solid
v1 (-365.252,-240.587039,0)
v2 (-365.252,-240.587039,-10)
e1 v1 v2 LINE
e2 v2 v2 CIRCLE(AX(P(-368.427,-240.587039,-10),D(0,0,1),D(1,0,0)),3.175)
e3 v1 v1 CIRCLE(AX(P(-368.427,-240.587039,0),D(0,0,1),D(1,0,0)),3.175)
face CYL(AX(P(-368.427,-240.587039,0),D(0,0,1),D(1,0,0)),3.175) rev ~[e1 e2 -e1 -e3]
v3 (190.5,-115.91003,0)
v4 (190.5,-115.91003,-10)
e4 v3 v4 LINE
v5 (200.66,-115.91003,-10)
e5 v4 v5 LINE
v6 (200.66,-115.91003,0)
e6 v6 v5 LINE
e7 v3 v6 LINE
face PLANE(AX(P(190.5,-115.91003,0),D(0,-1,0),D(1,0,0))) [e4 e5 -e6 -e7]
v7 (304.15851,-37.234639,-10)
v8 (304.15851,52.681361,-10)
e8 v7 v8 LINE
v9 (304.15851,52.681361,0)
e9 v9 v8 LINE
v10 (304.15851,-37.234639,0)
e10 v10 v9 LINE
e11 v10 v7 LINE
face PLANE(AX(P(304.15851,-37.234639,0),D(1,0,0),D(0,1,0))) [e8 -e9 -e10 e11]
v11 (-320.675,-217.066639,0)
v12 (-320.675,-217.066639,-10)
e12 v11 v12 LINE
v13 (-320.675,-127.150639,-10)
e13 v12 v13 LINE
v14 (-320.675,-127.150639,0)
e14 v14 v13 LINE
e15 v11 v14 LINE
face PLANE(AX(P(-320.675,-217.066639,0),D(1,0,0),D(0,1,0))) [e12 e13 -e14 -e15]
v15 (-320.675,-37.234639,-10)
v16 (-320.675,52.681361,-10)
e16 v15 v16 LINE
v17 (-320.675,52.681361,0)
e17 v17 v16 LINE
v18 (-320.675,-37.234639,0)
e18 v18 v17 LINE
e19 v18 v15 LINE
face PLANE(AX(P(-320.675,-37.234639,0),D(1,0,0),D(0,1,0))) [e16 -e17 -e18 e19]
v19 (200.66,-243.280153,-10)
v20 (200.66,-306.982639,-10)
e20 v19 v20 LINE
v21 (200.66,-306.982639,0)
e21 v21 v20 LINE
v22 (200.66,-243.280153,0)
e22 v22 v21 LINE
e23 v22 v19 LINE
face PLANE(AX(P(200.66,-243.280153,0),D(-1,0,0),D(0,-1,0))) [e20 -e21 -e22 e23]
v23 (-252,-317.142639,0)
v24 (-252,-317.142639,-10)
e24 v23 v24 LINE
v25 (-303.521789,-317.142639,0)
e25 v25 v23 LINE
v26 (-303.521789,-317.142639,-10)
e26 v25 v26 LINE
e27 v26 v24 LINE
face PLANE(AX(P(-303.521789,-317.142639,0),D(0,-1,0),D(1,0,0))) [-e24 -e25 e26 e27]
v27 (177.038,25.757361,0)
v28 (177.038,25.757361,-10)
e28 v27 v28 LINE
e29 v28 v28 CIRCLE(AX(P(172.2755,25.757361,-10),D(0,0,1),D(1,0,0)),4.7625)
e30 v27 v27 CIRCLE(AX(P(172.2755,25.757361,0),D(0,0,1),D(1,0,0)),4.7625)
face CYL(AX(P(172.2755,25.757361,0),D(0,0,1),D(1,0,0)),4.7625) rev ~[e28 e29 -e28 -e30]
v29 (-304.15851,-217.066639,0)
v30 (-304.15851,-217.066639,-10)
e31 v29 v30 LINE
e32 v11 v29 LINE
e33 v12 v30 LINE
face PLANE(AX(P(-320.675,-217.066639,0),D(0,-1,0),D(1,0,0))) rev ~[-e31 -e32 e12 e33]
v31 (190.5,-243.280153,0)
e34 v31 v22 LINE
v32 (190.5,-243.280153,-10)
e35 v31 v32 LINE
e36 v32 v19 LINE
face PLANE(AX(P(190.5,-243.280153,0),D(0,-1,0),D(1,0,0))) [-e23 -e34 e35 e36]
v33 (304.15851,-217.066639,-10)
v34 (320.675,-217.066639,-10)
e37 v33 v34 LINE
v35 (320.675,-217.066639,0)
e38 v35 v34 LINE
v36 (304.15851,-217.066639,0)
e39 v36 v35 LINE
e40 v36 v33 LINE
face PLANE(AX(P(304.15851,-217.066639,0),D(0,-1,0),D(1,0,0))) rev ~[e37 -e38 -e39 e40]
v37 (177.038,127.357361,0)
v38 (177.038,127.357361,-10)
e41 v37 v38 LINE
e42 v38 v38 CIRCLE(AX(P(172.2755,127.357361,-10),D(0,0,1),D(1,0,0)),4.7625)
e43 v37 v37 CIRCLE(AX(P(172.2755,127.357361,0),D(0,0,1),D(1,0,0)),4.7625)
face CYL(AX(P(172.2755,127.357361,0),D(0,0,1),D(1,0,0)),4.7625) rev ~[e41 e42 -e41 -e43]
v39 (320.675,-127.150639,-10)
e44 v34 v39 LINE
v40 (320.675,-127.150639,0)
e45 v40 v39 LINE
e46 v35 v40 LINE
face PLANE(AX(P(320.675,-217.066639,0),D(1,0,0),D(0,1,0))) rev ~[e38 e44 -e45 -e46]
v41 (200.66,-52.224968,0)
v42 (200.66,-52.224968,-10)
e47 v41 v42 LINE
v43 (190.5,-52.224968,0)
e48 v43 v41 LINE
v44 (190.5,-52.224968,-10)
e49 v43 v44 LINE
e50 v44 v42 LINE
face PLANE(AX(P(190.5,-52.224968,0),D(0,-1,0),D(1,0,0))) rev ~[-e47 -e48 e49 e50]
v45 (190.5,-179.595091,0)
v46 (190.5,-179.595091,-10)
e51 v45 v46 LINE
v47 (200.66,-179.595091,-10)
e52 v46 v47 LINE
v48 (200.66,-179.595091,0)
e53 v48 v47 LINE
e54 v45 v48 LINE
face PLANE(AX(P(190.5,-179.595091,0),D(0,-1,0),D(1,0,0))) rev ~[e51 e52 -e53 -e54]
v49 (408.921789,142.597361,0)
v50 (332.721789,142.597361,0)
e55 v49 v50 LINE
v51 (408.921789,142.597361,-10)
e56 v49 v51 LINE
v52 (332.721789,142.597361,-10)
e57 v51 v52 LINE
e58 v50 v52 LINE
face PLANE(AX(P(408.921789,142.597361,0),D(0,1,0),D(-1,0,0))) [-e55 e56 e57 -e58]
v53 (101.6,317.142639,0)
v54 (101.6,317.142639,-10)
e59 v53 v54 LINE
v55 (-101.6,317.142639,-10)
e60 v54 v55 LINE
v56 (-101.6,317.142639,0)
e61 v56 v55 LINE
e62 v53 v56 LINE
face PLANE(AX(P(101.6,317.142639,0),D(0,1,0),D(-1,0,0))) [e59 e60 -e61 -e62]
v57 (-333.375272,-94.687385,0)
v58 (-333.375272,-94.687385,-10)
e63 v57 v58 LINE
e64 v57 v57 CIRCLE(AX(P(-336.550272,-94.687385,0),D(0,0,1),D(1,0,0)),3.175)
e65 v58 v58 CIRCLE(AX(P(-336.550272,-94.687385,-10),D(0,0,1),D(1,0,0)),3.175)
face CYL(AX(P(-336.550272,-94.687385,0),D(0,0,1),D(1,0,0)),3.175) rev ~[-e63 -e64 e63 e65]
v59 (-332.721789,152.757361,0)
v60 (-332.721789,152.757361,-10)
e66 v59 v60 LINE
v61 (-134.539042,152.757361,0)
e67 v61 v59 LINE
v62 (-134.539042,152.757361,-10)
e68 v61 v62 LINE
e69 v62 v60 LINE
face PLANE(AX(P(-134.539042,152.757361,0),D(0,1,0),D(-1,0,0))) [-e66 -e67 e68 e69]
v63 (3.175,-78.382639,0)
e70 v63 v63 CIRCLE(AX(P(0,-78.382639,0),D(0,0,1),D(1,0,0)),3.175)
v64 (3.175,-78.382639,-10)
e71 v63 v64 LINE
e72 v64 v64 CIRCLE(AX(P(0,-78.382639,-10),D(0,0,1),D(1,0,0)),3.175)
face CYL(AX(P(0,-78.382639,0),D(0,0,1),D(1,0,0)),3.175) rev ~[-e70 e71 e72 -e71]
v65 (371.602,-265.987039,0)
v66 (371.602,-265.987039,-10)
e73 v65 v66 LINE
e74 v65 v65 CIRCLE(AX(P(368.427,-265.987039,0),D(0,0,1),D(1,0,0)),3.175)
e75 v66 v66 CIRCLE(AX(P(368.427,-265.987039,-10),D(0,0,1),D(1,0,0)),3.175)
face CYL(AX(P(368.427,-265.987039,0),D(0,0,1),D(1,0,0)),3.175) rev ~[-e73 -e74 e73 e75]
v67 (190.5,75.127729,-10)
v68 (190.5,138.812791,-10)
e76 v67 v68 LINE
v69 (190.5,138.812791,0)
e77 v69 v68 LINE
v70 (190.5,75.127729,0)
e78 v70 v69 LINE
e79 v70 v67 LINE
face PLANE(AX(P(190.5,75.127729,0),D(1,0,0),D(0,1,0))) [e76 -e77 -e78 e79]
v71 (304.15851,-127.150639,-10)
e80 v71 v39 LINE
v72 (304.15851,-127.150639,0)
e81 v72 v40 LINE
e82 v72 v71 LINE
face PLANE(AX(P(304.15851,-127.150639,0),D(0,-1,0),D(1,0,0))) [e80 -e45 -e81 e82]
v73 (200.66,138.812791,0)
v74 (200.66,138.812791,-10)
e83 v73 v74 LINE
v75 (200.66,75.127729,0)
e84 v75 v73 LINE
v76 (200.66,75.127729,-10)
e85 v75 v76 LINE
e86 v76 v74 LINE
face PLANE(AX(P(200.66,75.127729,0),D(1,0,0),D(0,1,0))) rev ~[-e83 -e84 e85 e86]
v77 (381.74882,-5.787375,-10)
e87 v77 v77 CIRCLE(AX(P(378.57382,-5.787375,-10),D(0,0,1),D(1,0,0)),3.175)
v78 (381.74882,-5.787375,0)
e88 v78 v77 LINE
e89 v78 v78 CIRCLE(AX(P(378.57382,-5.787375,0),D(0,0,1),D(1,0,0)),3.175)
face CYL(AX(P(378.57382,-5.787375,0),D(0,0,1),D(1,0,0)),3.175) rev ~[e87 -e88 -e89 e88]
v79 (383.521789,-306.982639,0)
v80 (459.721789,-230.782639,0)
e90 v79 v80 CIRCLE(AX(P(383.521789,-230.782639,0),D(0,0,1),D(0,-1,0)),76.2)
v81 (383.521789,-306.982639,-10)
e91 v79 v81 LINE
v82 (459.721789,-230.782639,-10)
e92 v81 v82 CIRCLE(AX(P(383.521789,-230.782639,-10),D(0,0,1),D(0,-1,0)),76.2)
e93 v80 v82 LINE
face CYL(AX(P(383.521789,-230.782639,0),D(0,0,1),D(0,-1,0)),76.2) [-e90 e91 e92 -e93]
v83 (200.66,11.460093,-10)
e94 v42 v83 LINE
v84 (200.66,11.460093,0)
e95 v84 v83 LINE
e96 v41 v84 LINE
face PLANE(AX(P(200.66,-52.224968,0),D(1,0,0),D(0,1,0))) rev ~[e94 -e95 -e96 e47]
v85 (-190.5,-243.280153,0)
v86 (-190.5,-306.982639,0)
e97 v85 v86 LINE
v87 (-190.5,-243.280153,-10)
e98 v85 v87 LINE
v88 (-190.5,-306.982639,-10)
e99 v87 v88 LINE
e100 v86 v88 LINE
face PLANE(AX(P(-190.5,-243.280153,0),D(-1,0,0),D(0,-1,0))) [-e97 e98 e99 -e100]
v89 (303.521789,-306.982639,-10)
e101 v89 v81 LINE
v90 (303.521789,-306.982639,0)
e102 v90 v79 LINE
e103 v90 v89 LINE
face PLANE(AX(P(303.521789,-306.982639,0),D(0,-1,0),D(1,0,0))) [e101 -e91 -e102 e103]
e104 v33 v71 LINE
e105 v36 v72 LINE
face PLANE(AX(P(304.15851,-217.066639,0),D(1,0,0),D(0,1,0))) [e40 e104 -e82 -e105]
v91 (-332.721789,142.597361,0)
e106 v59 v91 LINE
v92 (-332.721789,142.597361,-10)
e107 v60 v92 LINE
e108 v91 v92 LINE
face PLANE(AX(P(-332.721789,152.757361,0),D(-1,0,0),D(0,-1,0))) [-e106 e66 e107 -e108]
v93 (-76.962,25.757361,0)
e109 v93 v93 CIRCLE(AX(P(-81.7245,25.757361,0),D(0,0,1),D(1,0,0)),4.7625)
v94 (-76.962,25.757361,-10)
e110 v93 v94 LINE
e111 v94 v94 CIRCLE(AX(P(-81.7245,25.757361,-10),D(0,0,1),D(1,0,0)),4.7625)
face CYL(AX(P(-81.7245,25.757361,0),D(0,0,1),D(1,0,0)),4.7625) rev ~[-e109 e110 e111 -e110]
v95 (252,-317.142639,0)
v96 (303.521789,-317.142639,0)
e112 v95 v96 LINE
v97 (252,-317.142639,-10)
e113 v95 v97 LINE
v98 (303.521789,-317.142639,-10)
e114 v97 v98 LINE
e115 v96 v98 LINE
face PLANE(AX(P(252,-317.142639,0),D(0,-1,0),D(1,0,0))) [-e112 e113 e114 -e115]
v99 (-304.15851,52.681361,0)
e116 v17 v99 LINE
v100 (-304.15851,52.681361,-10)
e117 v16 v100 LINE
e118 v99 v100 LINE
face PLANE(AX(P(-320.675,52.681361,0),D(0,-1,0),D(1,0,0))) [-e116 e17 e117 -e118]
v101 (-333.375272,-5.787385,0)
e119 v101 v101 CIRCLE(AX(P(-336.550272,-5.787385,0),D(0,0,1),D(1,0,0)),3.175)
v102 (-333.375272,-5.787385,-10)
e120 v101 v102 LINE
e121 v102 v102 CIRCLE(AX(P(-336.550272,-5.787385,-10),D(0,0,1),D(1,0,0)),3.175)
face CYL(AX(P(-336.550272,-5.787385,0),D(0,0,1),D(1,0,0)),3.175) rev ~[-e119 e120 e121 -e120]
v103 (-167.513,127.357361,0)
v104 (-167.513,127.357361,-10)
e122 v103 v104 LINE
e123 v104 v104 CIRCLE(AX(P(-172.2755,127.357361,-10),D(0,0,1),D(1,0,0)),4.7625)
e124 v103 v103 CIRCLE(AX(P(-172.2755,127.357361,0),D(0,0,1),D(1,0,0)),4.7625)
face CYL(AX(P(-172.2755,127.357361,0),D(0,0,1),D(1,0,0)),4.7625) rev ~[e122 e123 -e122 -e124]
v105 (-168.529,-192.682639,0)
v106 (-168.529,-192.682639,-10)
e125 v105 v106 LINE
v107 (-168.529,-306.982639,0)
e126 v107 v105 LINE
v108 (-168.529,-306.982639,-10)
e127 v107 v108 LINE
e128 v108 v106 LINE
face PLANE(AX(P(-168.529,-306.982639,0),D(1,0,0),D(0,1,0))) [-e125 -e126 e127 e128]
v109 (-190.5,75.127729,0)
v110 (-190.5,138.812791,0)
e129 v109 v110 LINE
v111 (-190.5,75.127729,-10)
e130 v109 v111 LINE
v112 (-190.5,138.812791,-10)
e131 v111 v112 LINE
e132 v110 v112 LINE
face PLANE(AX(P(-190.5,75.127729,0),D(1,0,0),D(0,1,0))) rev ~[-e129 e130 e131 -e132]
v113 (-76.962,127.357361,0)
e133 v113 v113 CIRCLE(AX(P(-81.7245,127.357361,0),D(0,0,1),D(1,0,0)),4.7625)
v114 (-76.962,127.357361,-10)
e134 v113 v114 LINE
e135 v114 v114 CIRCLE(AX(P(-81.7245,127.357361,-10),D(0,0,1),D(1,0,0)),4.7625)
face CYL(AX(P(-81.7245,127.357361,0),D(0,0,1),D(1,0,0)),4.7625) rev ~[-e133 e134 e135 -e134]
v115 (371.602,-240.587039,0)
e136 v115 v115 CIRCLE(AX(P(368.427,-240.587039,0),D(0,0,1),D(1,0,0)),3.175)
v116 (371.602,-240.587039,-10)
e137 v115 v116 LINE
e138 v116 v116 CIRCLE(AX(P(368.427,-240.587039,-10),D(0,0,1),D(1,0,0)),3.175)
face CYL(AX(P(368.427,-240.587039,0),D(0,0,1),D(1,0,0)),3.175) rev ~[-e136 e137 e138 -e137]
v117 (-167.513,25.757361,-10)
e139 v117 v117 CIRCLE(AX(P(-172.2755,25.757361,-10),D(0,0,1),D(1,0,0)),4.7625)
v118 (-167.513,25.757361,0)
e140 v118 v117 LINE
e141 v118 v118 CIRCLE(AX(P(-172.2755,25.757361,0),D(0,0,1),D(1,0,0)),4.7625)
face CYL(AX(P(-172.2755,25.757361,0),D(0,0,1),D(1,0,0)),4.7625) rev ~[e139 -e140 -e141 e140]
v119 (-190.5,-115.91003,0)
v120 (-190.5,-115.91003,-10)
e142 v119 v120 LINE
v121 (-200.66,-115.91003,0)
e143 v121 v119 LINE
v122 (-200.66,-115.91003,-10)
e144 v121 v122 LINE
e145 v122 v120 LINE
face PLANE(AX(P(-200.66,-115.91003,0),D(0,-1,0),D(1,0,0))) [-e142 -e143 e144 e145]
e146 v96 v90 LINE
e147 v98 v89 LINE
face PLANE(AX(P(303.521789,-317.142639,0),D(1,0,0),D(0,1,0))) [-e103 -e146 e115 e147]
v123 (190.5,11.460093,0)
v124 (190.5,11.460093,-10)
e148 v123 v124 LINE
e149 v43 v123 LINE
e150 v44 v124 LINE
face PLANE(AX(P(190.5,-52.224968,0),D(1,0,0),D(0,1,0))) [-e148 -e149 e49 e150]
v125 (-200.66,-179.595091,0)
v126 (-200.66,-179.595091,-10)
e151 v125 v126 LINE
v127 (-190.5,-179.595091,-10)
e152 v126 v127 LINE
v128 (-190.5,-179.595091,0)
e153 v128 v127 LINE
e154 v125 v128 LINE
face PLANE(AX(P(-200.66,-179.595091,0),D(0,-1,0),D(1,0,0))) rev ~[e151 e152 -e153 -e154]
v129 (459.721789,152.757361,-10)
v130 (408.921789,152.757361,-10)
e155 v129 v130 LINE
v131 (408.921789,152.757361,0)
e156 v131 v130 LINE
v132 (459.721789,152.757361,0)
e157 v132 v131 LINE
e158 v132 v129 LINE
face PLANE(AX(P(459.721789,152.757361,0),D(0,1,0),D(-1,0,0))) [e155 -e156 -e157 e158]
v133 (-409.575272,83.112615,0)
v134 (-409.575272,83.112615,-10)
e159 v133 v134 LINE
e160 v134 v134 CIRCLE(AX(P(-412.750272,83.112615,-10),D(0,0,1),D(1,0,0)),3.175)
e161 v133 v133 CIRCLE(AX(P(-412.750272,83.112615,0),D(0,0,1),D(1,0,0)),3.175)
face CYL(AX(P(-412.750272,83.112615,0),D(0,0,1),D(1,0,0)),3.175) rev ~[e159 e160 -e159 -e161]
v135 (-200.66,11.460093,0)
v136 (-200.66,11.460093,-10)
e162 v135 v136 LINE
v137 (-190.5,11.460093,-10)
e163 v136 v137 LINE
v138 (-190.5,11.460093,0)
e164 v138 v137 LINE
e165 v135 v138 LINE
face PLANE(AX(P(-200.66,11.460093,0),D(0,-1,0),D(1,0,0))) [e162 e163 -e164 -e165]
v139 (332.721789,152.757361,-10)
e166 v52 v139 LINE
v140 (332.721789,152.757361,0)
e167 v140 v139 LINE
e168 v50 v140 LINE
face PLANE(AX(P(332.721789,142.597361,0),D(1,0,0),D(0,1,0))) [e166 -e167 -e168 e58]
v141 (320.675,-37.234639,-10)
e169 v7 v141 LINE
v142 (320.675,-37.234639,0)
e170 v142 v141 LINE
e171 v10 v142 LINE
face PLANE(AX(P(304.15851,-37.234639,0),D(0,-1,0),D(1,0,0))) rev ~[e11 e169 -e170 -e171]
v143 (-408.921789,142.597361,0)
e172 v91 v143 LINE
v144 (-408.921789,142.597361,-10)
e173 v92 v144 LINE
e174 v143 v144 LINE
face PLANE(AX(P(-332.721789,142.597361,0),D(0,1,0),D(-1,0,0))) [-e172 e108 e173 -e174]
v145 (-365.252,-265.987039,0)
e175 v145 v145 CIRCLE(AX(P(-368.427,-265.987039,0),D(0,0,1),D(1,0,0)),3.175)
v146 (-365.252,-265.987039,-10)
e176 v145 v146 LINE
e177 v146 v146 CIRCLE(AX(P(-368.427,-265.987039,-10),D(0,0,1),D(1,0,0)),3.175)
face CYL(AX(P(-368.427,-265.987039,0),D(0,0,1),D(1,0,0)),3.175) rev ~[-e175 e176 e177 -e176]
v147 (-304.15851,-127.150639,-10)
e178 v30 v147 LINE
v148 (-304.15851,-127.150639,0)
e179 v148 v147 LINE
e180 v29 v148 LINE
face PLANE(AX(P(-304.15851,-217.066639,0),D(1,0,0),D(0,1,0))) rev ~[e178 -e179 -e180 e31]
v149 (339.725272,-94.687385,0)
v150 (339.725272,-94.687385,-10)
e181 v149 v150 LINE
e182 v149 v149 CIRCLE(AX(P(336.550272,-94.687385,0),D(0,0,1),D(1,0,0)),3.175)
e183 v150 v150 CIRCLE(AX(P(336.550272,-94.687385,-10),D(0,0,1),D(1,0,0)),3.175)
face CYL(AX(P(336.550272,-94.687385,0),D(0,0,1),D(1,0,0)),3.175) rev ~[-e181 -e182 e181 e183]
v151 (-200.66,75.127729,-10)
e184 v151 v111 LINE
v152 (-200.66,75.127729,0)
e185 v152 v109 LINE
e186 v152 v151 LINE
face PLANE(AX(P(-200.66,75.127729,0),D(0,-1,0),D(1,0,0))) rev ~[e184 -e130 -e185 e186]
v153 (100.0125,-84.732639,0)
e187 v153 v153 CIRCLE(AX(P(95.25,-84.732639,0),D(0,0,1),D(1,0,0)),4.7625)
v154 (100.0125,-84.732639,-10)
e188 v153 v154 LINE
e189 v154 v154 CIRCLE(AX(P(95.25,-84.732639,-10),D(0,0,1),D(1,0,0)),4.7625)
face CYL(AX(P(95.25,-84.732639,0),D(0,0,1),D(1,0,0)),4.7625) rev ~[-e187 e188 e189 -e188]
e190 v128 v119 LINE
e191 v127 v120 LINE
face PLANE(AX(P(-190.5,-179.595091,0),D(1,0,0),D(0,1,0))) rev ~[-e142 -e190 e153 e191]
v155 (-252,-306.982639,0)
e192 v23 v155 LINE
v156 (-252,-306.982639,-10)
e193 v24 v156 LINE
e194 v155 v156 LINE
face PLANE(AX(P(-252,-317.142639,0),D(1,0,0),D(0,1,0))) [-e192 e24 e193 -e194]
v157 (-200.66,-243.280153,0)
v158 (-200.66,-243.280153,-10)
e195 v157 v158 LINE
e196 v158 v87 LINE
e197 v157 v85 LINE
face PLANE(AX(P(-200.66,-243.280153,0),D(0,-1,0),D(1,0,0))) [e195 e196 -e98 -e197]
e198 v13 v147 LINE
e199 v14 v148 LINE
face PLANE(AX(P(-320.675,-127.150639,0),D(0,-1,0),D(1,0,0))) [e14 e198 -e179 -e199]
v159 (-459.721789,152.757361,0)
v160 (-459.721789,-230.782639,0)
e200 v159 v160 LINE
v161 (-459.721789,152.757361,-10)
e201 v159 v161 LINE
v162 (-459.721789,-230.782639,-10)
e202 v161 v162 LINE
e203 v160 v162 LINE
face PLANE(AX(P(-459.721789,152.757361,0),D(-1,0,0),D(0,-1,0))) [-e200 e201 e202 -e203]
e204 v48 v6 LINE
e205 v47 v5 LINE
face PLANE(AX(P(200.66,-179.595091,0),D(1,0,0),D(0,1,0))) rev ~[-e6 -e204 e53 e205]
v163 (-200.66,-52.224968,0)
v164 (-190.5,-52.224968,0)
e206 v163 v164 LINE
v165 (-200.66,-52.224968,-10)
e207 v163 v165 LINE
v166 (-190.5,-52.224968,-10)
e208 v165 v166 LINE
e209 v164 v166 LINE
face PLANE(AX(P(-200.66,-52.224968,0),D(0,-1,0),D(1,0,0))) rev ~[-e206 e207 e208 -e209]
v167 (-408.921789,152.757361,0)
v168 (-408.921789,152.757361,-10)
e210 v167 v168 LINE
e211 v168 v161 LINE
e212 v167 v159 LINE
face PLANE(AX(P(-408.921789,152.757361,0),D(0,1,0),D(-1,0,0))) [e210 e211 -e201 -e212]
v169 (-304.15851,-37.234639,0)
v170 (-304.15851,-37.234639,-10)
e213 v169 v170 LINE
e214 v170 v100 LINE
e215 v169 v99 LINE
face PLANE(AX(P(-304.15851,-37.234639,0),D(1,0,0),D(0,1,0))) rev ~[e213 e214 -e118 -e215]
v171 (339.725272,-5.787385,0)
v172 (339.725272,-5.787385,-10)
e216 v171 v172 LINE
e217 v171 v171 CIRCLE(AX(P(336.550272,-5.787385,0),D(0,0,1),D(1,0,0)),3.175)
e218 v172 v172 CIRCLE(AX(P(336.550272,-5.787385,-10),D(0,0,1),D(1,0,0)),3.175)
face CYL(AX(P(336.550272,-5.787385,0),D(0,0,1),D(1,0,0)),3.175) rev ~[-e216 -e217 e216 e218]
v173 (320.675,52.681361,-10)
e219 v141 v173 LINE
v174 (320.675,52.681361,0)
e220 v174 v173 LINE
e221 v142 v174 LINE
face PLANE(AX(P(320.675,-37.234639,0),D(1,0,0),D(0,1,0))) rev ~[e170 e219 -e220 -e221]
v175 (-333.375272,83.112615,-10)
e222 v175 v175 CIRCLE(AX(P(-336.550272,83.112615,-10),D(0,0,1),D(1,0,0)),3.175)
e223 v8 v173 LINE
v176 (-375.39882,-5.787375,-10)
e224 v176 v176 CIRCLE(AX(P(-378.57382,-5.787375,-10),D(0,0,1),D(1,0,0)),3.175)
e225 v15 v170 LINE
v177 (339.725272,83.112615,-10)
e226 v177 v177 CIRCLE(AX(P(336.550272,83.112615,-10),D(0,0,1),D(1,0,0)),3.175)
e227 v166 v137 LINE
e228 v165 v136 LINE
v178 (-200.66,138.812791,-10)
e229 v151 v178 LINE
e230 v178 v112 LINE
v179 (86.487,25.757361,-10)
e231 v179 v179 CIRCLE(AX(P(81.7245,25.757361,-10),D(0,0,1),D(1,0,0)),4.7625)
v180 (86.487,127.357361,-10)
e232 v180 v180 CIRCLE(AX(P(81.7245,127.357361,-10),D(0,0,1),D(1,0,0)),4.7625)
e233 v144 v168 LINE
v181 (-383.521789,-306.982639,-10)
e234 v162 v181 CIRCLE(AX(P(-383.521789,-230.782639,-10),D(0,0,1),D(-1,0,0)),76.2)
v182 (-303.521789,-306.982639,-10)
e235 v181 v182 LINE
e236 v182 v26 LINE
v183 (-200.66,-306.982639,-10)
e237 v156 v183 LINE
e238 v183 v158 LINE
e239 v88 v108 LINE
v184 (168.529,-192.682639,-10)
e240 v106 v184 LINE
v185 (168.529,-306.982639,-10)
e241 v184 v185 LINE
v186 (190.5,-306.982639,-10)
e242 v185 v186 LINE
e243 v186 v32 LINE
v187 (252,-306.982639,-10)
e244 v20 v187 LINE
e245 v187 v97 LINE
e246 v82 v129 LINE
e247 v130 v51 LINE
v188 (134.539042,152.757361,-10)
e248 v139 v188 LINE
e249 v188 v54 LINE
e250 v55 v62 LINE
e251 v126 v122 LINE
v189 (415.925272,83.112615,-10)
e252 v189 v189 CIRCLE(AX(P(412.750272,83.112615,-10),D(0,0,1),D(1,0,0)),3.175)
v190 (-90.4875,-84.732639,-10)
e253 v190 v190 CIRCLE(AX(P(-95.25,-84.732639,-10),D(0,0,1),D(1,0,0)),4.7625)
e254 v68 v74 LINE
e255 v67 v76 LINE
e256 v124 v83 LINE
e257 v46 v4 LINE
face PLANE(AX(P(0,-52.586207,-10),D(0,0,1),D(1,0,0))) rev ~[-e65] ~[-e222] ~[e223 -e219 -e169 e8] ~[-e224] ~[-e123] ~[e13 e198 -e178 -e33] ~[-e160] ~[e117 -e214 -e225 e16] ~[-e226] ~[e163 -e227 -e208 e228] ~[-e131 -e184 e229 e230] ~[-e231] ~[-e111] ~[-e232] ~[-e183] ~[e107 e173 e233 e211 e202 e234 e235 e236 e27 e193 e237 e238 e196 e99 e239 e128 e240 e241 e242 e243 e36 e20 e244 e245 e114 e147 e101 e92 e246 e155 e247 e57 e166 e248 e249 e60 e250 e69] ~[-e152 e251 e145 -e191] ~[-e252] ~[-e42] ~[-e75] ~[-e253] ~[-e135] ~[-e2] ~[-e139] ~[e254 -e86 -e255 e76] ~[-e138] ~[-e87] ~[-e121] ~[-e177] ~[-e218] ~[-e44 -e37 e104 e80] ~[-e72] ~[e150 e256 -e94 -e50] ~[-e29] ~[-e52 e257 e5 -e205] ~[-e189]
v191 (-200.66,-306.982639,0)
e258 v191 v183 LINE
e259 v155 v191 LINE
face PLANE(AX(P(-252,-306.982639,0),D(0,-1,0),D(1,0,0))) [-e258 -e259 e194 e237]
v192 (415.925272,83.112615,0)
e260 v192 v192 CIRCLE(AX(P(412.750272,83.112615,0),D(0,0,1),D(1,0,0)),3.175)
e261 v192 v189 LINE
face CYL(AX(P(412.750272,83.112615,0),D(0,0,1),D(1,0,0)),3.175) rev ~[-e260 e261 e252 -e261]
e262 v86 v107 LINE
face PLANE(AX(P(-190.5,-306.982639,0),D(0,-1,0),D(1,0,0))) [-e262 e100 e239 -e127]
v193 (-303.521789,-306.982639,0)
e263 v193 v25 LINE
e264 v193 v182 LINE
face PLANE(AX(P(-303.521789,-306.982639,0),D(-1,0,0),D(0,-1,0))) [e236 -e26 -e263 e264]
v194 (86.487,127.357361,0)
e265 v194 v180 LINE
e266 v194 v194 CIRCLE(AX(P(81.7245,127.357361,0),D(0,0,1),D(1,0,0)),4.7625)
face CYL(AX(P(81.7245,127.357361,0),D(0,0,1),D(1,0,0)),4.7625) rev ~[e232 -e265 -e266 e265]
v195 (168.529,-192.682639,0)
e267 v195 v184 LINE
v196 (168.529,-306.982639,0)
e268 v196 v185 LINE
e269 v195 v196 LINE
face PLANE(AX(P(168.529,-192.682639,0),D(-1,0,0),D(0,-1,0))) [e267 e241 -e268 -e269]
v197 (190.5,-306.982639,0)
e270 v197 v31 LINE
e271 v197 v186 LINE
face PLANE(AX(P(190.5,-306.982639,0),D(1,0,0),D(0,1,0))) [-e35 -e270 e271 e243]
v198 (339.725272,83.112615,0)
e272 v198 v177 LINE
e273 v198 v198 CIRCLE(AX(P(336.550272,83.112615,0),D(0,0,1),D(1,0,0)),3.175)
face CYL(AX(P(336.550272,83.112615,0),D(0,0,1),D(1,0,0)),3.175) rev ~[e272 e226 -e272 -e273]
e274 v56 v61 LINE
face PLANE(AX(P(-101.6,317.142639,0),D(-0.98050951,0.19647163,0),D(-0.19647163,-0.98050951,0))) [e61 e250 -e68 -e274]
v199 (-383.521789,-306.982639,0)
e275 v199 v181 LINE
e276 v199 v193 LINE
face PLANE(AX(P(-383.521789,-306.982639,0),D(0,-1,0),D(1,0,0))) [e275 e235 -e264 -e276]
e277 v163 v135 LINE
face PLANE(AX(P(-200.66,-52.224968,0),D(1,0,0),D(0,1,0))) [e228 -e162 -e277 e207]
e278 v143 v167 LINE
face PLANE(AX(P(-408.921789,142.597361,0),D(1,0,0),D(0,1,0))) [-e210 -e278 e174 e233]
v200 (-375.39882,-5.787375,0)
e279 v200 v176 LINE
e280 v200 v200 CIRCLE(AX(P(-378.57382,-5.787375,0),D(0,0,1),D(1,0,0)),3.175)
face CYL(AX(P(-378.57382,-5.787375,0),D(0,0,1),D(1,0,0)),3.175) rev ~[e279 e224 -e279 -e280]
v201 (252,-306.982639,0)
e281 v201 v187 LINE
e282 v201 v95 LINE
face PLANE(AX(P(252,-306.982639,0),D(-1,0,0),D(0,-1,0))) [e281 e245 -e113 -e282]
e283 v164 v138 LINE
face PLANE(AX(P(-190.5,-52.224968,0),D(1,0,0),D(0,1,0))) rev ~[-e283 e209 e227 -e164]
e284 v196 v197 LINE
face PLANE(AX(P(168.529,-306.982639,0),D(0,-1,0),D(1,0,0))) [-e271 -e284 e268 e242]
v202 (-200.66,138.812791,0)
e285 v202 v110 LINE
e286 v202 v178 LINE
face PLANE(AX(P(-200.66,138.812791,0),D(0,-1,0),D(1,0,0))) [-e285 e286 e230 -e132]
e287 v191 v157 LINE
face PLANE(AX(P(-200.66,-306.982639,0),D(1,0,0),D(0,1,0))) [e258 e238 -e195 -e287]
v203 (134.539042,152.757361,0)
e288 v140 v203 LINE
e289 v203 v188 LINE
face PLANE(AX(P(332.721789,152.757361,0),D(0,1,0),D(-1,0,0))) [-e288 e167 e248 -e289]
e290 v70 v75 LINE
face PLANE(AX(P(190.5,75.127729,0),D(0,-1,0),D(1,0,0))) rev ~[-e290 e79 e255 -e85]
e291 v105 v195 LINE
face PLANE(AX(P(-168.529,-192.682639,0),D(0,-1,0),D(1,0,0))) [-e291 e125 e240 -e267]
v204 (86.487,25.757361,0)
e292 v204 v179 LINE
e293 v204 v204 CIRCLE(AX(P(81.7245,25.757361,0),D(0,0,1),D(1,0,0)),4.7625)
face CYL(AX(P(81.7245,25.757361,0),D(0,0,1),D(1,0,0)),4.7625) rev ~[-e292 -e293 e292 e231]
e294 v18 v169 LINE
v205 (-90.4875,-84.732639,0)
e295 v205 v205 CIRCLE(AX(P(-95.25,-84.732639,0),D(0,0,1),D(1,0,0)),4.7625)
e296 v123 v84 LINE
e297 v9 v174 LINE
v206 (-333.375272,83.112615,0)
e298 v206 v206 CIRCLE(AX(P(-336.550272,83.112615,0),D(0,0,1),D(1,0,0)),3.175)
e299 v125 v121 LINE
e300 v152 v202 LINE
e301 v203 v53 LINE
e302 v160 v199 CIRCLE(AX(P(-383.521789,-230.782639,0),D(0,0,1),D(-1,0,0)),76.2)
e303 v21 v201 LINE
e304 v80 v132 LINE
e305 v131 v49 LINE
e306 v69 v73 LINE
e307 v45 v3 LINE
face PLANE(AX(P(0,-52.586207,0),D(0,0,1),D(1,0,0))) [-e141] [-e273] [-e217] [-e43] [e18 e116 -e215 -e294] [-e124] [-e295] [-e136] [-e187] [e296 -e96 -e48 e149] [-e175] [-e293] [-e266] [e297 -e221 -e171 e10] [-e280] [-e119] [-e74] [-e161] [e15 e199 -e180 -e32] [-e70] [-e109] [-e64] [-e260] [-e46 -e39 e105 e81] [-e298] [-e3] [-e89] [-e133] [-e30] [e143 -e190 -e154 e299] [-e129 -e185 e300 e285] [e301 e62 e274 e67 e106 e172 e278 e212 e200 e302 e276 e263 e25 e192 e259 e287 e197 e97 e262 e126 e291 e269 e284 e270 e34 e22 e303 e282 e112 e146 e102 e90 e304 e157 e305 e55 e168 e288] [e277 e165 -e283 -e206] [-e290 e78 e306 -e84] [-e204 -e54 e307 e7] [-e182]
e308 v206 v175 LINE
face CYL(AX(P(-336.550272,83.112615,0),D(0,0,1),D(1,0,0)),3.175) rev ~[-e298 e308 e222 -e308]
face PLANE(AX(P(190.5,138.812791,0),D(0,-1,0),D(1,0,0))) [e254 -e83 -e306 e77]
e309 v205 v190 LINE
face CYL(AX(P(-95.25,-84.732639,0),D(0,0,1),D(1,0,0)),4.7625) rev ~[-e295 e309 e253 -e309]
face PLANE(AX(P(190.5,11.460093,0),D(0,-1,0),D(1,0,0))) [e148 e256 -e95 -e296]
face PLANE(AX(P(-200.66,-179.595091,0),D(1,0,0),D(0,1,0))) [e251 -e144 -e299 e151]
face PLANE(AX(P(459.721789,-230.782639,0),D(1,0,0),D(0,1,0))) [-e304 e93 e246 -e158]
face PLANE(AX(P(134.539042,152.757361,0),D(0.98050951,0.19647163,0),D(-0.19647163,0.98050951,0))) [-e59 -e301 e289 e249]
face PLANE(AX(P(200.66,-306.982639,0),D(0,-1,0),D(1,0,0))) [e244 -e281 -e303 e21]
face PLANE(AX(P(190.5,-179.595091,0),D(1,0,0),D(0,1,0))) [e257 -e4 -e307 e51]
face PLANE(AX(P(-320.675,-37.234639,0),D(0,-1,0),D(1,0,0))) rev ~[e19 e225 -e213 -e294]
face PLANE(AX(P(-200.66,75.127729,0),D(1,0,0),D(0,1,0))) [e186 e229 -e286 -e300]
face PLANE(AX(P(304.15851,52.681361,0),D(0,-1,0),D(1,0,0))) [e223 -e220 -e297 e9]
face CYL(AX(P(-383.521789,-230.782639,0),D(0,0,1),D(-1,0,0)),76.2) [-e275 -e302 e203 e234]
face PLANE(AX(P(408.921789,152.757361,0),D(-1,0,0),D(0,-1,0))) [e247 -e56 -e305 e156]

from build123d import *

# Parameters (mm, degrees)
SKETCH2_R           = 3.175
SKETCH2_R_2         = 4.7625
SKETCH2_W           = 16.516490401
SKETCH2_H           = 89.916
SKETCH2_W_2         = 10.16
SKETCH2_H_2         = 63.685061478
SKETCH2_H_3         = 63.685061479
BOSS_EXTRUDE1_DEPTH = 10


with BuildPart() as part:
    # Sketch2 → Boss-Extrude1 (new body)
    with BuildSketch(Plane.XY):
        with BuildLine():
            Line((-408.921789204, 152.75736057), (-459.721789204, 152.75736057))
            Line((-459.721789204, 152.75736057), (-459.721789204, -230.78263943))
            ThreePointArc((-459.721789204, -230.78263943), (-437.403325931, -284.664176156), (-383.521789204, -306.98263943))
            Line((-383.521789204, -306.98263943), (-303.521789204, -306.98263943))
            Line((-303.521789204, -306.98263943), (-303.521789204, -317.14263943))
            Line((-303.521789204, -317.14263943), (-252, -317.14263943))
            Line((-252, -317.14263943), (-252, -306.98263943))
            Line((-252, -306.98263943), (-200.66, -306.98263943))
            Line((-200.66, -306.98263943), (-200.66, -243.280152529))
            Line((-200.66, -243.280152529), (-190.5, -243.280152529))
            Line((-190.5, -243.280152529), (-190.5, -306.98263943))
            Line((-190.5, -306.98263943), (-168.529, -306.98263943))
            Line((-168.529, -306.98263943), (-168.529, -192.68263943))
            Line((-168.529, -192.68263943), (168.529, -192.68263943))
            Line((168.529, -192.68263943), (168.529, -306.98263943))
            Line((168.529, -306.98263943), (190.5, -306.98263943))
            Line((190.5, -306.98263943), (190.5, -243.280152529))
            Line((190.5, -243.280152529), (200.66, -243.280152529))
            Line((200.66, -243.280152529), (200.66, -306.98263943))
            Line((200.66, -306.98263943), (252, -306.98263943))
            Line((252, -306.98263943), (252, -317.14263943))
            Line((252, -317.14263943), (303.521789204, -317.14263943))
            Line((303.521789204, -317.14263943), (303.521789204, -306.98263943))
            Line((303.521789204, -306.98263943), (383.521789204, -306.98263943))
            ThreePointArc((383.521789204, -306.98263943), (437.403325931, -284.664176156), (459.721789204, -230.78263943))
            Line((459.721789204, -230.78263943), (459.721789204, 152.75736057))
            Line((459.721789204, 152.75736057), (408.921789204, 152.75736057))
            Line((408.921789204, 152.75736057), (408.921789204, 142.59736057))
            Line((408.921789204, 142.59736057), (332.721789204, 142.59736057))
            Line((332.721789204, 142.59736057), (332.721789204, 152.75736057))
            Line((332.721789204, 152.75736057), (134.539041792, 152.75736057))
            Line((134.539041792, 152.75736057), (101.6, 317.14263943))
            Line((101.6, 317.14263943), (-101.6, 317.14263943))
            Line((-101.6, 317.14263943), (-134.539041792, 152.75736057))
            Line((-134.539041792, 152.75736057), (-332.721789204, 152.75736057))
            Line((-332.721789204, 152.75736057), (-332.721789204, 142.597360571))
            Line((-332.721789204, 142.597360571), (-408.921789204, 142.597360571))
            Line((-408.921789204, 142.597360571), (-408.921789204, 152.75736057))
        make_face()
        with Locations((368.427, -265.98703943)):
            Circle(SKETCH2_R, mode=Mode.SUBTRACT)
        with Locations((368.427, -240.58703943)):
            Circle(SKETCH2_R, mode=Mode.SUBTRACT)
        with Locations((336.550272189, -94.687385458)):
            Circle(SKETCH2_R, mode=Mode.SUBTRACT)
        with Locations((378.573819589, -5.78737531)):
            Circle(SKETCH2_R, mode=Mode.SUBTRACT)
        with Locations((336.550272189, -5.787385458)):
            Circle(SKETCH2_R, mode=Mode.SUBTRACT)
        with Locations((336.550272189, 83.112614542)):
            Circle(SKETCH2_R, mode=Mode.SUBTRACT)
        with Locations((412.750272189, 83.112614542)):
            Circle(SKETCH2_R, mode=Mode.SUBTRACT)
        with Locations((-412.75027219, 83.112614542)):
            Circle(SKETCH2_R, mode=Mode.SUBTRACT)
        with Locations((-336.55027219, 83.112614542)):
            Circle(SKETCH2_R, mode=Mode.SUBTRACT)
        with Locations((-336.55027219, -5.787385458)):
            Circle(SKETCH2_R, mode=Mode.SUBTRACT)
        with Locations((-378.573819589, -5.78737531)):
            Circle(SKETCH2_R, mode=Mode.SUBTRACT)
        with Locations((-336.55027219, -94.687385458)):
            Circle(SKETCH2_R, mode=Mode.SUBTRACT)
        with Locations((-368.427, -240.58703943)):
            Circle(SKETCH2_R, mode=Mode.SUBTRACT)
        with Locations((-368.427, -265.98703943)):
            Circle(SKETCH2_R, mode=Mode.SUBTRACT)
        with Locations((172.2755, 127.35736057)):
            Circle(SKETCH2_R_2, mode=Mode.SUBTRACT)
        with Locations((172.2755, 25.75736057)):
            Circle(SKETCH2_R_2, mode=Mode.SUBTRACT)
        with Locations((81.7245, 25.75736057)):
            Circle(SKETCH2_R_2, mode=Mode.SUBTRACT)
        with Locations((81.7245, 127.35736057)):
            Circle(SKETCH2_R_2, mode=Mode.SUBTRACT)
        with Locations((-81.7245, 25.75736057)):
            Circle(SKETCH2_R_2, mode=Mode.SUBTRACT)
        with Locations((-81.7245, 127.35736057)):
            Circle(SKETCH2_R_2, mode=Mode.SUBTRACT)
        with Locations((-172.2755, 127.35736057)):
            Circle(SKETCH2_R_2, mode=Mode.SUBTRACT)
        with Locations((-172.2755, 25.75736057)):
            Circle(SKETCH2_R_2, mode=Mode.SUBTRACT)
        with Locations((0, -78.38263943)):
            Circle(SKETCH2_R, mode=Mode.SUBTRACT)
        with Locations((-95.25, -84.73263943)):
            Circle(SKETCH2_R_2, mode=Mode.SUBTRACT)
        with Locations((95.25, -84.73263943)):
            Circle(SKETCH2_R_2, mode=Mode.SUBTRACT)
        with Locations((312.416754739, 7.72336057)):
            Rectangle(SKETCH2_W, SKETCH2_H, mode=Mode.SUBTRACT)
        with Locations((312.416754739, -172.10863943)):
            Rectangle(SKETCH2_W, SKETCH2_H, mode=Mode.SUBTRACT)
        with Locations((-312.416754739, -172.10863943)):
            Rectangle(SKETCH2_W, SKETCH2_H, mode=Mode.SUBTRACT)
        with Locations((-312.416754739, 7.72336057)):
            Rectangle(SKETCH2_W, SKETCH2_H, mode=Mode.SUBTRACT)
        with Locations((195.58, -147.752560311)):
            Rectangle(SKETCH2_W_2, SKETCH2_H_2, mode=Mode.SUBTRACT)
        with Locations((195.58, -20.382437355)):
            Rectangle(SKETCH2_W_2, SKETCH2_H_3, mode=Mode.SUBTRACT)
        with Locations((195.58, 106.97026018)):
            Rectangle(SKETCH2_W_2, SKETCH2_H_3, mode=Mode.SUBTRACT)
        with Locations((-195.58, 106.97026018)):
            Rectangle(SKETCH2_W_2, SKETCH2_H_3, mode=Mode.SUBTRACT)
        with Locations((-195.58, -20.382437355)):
            Rectangle(SKETCH2_W_2, SKETCH2_H_3, mode=Mode.SUBTRACT)
        with Locations((-195.58, -147.752560311)):
            Rectangle(SKETCH2_W_2, SKETCH2_H_2, mode=Mode.SUBTRACT)
    extrude(amount=-BOSS_EXTRUDE1_DEPTH)


solid = part.part
